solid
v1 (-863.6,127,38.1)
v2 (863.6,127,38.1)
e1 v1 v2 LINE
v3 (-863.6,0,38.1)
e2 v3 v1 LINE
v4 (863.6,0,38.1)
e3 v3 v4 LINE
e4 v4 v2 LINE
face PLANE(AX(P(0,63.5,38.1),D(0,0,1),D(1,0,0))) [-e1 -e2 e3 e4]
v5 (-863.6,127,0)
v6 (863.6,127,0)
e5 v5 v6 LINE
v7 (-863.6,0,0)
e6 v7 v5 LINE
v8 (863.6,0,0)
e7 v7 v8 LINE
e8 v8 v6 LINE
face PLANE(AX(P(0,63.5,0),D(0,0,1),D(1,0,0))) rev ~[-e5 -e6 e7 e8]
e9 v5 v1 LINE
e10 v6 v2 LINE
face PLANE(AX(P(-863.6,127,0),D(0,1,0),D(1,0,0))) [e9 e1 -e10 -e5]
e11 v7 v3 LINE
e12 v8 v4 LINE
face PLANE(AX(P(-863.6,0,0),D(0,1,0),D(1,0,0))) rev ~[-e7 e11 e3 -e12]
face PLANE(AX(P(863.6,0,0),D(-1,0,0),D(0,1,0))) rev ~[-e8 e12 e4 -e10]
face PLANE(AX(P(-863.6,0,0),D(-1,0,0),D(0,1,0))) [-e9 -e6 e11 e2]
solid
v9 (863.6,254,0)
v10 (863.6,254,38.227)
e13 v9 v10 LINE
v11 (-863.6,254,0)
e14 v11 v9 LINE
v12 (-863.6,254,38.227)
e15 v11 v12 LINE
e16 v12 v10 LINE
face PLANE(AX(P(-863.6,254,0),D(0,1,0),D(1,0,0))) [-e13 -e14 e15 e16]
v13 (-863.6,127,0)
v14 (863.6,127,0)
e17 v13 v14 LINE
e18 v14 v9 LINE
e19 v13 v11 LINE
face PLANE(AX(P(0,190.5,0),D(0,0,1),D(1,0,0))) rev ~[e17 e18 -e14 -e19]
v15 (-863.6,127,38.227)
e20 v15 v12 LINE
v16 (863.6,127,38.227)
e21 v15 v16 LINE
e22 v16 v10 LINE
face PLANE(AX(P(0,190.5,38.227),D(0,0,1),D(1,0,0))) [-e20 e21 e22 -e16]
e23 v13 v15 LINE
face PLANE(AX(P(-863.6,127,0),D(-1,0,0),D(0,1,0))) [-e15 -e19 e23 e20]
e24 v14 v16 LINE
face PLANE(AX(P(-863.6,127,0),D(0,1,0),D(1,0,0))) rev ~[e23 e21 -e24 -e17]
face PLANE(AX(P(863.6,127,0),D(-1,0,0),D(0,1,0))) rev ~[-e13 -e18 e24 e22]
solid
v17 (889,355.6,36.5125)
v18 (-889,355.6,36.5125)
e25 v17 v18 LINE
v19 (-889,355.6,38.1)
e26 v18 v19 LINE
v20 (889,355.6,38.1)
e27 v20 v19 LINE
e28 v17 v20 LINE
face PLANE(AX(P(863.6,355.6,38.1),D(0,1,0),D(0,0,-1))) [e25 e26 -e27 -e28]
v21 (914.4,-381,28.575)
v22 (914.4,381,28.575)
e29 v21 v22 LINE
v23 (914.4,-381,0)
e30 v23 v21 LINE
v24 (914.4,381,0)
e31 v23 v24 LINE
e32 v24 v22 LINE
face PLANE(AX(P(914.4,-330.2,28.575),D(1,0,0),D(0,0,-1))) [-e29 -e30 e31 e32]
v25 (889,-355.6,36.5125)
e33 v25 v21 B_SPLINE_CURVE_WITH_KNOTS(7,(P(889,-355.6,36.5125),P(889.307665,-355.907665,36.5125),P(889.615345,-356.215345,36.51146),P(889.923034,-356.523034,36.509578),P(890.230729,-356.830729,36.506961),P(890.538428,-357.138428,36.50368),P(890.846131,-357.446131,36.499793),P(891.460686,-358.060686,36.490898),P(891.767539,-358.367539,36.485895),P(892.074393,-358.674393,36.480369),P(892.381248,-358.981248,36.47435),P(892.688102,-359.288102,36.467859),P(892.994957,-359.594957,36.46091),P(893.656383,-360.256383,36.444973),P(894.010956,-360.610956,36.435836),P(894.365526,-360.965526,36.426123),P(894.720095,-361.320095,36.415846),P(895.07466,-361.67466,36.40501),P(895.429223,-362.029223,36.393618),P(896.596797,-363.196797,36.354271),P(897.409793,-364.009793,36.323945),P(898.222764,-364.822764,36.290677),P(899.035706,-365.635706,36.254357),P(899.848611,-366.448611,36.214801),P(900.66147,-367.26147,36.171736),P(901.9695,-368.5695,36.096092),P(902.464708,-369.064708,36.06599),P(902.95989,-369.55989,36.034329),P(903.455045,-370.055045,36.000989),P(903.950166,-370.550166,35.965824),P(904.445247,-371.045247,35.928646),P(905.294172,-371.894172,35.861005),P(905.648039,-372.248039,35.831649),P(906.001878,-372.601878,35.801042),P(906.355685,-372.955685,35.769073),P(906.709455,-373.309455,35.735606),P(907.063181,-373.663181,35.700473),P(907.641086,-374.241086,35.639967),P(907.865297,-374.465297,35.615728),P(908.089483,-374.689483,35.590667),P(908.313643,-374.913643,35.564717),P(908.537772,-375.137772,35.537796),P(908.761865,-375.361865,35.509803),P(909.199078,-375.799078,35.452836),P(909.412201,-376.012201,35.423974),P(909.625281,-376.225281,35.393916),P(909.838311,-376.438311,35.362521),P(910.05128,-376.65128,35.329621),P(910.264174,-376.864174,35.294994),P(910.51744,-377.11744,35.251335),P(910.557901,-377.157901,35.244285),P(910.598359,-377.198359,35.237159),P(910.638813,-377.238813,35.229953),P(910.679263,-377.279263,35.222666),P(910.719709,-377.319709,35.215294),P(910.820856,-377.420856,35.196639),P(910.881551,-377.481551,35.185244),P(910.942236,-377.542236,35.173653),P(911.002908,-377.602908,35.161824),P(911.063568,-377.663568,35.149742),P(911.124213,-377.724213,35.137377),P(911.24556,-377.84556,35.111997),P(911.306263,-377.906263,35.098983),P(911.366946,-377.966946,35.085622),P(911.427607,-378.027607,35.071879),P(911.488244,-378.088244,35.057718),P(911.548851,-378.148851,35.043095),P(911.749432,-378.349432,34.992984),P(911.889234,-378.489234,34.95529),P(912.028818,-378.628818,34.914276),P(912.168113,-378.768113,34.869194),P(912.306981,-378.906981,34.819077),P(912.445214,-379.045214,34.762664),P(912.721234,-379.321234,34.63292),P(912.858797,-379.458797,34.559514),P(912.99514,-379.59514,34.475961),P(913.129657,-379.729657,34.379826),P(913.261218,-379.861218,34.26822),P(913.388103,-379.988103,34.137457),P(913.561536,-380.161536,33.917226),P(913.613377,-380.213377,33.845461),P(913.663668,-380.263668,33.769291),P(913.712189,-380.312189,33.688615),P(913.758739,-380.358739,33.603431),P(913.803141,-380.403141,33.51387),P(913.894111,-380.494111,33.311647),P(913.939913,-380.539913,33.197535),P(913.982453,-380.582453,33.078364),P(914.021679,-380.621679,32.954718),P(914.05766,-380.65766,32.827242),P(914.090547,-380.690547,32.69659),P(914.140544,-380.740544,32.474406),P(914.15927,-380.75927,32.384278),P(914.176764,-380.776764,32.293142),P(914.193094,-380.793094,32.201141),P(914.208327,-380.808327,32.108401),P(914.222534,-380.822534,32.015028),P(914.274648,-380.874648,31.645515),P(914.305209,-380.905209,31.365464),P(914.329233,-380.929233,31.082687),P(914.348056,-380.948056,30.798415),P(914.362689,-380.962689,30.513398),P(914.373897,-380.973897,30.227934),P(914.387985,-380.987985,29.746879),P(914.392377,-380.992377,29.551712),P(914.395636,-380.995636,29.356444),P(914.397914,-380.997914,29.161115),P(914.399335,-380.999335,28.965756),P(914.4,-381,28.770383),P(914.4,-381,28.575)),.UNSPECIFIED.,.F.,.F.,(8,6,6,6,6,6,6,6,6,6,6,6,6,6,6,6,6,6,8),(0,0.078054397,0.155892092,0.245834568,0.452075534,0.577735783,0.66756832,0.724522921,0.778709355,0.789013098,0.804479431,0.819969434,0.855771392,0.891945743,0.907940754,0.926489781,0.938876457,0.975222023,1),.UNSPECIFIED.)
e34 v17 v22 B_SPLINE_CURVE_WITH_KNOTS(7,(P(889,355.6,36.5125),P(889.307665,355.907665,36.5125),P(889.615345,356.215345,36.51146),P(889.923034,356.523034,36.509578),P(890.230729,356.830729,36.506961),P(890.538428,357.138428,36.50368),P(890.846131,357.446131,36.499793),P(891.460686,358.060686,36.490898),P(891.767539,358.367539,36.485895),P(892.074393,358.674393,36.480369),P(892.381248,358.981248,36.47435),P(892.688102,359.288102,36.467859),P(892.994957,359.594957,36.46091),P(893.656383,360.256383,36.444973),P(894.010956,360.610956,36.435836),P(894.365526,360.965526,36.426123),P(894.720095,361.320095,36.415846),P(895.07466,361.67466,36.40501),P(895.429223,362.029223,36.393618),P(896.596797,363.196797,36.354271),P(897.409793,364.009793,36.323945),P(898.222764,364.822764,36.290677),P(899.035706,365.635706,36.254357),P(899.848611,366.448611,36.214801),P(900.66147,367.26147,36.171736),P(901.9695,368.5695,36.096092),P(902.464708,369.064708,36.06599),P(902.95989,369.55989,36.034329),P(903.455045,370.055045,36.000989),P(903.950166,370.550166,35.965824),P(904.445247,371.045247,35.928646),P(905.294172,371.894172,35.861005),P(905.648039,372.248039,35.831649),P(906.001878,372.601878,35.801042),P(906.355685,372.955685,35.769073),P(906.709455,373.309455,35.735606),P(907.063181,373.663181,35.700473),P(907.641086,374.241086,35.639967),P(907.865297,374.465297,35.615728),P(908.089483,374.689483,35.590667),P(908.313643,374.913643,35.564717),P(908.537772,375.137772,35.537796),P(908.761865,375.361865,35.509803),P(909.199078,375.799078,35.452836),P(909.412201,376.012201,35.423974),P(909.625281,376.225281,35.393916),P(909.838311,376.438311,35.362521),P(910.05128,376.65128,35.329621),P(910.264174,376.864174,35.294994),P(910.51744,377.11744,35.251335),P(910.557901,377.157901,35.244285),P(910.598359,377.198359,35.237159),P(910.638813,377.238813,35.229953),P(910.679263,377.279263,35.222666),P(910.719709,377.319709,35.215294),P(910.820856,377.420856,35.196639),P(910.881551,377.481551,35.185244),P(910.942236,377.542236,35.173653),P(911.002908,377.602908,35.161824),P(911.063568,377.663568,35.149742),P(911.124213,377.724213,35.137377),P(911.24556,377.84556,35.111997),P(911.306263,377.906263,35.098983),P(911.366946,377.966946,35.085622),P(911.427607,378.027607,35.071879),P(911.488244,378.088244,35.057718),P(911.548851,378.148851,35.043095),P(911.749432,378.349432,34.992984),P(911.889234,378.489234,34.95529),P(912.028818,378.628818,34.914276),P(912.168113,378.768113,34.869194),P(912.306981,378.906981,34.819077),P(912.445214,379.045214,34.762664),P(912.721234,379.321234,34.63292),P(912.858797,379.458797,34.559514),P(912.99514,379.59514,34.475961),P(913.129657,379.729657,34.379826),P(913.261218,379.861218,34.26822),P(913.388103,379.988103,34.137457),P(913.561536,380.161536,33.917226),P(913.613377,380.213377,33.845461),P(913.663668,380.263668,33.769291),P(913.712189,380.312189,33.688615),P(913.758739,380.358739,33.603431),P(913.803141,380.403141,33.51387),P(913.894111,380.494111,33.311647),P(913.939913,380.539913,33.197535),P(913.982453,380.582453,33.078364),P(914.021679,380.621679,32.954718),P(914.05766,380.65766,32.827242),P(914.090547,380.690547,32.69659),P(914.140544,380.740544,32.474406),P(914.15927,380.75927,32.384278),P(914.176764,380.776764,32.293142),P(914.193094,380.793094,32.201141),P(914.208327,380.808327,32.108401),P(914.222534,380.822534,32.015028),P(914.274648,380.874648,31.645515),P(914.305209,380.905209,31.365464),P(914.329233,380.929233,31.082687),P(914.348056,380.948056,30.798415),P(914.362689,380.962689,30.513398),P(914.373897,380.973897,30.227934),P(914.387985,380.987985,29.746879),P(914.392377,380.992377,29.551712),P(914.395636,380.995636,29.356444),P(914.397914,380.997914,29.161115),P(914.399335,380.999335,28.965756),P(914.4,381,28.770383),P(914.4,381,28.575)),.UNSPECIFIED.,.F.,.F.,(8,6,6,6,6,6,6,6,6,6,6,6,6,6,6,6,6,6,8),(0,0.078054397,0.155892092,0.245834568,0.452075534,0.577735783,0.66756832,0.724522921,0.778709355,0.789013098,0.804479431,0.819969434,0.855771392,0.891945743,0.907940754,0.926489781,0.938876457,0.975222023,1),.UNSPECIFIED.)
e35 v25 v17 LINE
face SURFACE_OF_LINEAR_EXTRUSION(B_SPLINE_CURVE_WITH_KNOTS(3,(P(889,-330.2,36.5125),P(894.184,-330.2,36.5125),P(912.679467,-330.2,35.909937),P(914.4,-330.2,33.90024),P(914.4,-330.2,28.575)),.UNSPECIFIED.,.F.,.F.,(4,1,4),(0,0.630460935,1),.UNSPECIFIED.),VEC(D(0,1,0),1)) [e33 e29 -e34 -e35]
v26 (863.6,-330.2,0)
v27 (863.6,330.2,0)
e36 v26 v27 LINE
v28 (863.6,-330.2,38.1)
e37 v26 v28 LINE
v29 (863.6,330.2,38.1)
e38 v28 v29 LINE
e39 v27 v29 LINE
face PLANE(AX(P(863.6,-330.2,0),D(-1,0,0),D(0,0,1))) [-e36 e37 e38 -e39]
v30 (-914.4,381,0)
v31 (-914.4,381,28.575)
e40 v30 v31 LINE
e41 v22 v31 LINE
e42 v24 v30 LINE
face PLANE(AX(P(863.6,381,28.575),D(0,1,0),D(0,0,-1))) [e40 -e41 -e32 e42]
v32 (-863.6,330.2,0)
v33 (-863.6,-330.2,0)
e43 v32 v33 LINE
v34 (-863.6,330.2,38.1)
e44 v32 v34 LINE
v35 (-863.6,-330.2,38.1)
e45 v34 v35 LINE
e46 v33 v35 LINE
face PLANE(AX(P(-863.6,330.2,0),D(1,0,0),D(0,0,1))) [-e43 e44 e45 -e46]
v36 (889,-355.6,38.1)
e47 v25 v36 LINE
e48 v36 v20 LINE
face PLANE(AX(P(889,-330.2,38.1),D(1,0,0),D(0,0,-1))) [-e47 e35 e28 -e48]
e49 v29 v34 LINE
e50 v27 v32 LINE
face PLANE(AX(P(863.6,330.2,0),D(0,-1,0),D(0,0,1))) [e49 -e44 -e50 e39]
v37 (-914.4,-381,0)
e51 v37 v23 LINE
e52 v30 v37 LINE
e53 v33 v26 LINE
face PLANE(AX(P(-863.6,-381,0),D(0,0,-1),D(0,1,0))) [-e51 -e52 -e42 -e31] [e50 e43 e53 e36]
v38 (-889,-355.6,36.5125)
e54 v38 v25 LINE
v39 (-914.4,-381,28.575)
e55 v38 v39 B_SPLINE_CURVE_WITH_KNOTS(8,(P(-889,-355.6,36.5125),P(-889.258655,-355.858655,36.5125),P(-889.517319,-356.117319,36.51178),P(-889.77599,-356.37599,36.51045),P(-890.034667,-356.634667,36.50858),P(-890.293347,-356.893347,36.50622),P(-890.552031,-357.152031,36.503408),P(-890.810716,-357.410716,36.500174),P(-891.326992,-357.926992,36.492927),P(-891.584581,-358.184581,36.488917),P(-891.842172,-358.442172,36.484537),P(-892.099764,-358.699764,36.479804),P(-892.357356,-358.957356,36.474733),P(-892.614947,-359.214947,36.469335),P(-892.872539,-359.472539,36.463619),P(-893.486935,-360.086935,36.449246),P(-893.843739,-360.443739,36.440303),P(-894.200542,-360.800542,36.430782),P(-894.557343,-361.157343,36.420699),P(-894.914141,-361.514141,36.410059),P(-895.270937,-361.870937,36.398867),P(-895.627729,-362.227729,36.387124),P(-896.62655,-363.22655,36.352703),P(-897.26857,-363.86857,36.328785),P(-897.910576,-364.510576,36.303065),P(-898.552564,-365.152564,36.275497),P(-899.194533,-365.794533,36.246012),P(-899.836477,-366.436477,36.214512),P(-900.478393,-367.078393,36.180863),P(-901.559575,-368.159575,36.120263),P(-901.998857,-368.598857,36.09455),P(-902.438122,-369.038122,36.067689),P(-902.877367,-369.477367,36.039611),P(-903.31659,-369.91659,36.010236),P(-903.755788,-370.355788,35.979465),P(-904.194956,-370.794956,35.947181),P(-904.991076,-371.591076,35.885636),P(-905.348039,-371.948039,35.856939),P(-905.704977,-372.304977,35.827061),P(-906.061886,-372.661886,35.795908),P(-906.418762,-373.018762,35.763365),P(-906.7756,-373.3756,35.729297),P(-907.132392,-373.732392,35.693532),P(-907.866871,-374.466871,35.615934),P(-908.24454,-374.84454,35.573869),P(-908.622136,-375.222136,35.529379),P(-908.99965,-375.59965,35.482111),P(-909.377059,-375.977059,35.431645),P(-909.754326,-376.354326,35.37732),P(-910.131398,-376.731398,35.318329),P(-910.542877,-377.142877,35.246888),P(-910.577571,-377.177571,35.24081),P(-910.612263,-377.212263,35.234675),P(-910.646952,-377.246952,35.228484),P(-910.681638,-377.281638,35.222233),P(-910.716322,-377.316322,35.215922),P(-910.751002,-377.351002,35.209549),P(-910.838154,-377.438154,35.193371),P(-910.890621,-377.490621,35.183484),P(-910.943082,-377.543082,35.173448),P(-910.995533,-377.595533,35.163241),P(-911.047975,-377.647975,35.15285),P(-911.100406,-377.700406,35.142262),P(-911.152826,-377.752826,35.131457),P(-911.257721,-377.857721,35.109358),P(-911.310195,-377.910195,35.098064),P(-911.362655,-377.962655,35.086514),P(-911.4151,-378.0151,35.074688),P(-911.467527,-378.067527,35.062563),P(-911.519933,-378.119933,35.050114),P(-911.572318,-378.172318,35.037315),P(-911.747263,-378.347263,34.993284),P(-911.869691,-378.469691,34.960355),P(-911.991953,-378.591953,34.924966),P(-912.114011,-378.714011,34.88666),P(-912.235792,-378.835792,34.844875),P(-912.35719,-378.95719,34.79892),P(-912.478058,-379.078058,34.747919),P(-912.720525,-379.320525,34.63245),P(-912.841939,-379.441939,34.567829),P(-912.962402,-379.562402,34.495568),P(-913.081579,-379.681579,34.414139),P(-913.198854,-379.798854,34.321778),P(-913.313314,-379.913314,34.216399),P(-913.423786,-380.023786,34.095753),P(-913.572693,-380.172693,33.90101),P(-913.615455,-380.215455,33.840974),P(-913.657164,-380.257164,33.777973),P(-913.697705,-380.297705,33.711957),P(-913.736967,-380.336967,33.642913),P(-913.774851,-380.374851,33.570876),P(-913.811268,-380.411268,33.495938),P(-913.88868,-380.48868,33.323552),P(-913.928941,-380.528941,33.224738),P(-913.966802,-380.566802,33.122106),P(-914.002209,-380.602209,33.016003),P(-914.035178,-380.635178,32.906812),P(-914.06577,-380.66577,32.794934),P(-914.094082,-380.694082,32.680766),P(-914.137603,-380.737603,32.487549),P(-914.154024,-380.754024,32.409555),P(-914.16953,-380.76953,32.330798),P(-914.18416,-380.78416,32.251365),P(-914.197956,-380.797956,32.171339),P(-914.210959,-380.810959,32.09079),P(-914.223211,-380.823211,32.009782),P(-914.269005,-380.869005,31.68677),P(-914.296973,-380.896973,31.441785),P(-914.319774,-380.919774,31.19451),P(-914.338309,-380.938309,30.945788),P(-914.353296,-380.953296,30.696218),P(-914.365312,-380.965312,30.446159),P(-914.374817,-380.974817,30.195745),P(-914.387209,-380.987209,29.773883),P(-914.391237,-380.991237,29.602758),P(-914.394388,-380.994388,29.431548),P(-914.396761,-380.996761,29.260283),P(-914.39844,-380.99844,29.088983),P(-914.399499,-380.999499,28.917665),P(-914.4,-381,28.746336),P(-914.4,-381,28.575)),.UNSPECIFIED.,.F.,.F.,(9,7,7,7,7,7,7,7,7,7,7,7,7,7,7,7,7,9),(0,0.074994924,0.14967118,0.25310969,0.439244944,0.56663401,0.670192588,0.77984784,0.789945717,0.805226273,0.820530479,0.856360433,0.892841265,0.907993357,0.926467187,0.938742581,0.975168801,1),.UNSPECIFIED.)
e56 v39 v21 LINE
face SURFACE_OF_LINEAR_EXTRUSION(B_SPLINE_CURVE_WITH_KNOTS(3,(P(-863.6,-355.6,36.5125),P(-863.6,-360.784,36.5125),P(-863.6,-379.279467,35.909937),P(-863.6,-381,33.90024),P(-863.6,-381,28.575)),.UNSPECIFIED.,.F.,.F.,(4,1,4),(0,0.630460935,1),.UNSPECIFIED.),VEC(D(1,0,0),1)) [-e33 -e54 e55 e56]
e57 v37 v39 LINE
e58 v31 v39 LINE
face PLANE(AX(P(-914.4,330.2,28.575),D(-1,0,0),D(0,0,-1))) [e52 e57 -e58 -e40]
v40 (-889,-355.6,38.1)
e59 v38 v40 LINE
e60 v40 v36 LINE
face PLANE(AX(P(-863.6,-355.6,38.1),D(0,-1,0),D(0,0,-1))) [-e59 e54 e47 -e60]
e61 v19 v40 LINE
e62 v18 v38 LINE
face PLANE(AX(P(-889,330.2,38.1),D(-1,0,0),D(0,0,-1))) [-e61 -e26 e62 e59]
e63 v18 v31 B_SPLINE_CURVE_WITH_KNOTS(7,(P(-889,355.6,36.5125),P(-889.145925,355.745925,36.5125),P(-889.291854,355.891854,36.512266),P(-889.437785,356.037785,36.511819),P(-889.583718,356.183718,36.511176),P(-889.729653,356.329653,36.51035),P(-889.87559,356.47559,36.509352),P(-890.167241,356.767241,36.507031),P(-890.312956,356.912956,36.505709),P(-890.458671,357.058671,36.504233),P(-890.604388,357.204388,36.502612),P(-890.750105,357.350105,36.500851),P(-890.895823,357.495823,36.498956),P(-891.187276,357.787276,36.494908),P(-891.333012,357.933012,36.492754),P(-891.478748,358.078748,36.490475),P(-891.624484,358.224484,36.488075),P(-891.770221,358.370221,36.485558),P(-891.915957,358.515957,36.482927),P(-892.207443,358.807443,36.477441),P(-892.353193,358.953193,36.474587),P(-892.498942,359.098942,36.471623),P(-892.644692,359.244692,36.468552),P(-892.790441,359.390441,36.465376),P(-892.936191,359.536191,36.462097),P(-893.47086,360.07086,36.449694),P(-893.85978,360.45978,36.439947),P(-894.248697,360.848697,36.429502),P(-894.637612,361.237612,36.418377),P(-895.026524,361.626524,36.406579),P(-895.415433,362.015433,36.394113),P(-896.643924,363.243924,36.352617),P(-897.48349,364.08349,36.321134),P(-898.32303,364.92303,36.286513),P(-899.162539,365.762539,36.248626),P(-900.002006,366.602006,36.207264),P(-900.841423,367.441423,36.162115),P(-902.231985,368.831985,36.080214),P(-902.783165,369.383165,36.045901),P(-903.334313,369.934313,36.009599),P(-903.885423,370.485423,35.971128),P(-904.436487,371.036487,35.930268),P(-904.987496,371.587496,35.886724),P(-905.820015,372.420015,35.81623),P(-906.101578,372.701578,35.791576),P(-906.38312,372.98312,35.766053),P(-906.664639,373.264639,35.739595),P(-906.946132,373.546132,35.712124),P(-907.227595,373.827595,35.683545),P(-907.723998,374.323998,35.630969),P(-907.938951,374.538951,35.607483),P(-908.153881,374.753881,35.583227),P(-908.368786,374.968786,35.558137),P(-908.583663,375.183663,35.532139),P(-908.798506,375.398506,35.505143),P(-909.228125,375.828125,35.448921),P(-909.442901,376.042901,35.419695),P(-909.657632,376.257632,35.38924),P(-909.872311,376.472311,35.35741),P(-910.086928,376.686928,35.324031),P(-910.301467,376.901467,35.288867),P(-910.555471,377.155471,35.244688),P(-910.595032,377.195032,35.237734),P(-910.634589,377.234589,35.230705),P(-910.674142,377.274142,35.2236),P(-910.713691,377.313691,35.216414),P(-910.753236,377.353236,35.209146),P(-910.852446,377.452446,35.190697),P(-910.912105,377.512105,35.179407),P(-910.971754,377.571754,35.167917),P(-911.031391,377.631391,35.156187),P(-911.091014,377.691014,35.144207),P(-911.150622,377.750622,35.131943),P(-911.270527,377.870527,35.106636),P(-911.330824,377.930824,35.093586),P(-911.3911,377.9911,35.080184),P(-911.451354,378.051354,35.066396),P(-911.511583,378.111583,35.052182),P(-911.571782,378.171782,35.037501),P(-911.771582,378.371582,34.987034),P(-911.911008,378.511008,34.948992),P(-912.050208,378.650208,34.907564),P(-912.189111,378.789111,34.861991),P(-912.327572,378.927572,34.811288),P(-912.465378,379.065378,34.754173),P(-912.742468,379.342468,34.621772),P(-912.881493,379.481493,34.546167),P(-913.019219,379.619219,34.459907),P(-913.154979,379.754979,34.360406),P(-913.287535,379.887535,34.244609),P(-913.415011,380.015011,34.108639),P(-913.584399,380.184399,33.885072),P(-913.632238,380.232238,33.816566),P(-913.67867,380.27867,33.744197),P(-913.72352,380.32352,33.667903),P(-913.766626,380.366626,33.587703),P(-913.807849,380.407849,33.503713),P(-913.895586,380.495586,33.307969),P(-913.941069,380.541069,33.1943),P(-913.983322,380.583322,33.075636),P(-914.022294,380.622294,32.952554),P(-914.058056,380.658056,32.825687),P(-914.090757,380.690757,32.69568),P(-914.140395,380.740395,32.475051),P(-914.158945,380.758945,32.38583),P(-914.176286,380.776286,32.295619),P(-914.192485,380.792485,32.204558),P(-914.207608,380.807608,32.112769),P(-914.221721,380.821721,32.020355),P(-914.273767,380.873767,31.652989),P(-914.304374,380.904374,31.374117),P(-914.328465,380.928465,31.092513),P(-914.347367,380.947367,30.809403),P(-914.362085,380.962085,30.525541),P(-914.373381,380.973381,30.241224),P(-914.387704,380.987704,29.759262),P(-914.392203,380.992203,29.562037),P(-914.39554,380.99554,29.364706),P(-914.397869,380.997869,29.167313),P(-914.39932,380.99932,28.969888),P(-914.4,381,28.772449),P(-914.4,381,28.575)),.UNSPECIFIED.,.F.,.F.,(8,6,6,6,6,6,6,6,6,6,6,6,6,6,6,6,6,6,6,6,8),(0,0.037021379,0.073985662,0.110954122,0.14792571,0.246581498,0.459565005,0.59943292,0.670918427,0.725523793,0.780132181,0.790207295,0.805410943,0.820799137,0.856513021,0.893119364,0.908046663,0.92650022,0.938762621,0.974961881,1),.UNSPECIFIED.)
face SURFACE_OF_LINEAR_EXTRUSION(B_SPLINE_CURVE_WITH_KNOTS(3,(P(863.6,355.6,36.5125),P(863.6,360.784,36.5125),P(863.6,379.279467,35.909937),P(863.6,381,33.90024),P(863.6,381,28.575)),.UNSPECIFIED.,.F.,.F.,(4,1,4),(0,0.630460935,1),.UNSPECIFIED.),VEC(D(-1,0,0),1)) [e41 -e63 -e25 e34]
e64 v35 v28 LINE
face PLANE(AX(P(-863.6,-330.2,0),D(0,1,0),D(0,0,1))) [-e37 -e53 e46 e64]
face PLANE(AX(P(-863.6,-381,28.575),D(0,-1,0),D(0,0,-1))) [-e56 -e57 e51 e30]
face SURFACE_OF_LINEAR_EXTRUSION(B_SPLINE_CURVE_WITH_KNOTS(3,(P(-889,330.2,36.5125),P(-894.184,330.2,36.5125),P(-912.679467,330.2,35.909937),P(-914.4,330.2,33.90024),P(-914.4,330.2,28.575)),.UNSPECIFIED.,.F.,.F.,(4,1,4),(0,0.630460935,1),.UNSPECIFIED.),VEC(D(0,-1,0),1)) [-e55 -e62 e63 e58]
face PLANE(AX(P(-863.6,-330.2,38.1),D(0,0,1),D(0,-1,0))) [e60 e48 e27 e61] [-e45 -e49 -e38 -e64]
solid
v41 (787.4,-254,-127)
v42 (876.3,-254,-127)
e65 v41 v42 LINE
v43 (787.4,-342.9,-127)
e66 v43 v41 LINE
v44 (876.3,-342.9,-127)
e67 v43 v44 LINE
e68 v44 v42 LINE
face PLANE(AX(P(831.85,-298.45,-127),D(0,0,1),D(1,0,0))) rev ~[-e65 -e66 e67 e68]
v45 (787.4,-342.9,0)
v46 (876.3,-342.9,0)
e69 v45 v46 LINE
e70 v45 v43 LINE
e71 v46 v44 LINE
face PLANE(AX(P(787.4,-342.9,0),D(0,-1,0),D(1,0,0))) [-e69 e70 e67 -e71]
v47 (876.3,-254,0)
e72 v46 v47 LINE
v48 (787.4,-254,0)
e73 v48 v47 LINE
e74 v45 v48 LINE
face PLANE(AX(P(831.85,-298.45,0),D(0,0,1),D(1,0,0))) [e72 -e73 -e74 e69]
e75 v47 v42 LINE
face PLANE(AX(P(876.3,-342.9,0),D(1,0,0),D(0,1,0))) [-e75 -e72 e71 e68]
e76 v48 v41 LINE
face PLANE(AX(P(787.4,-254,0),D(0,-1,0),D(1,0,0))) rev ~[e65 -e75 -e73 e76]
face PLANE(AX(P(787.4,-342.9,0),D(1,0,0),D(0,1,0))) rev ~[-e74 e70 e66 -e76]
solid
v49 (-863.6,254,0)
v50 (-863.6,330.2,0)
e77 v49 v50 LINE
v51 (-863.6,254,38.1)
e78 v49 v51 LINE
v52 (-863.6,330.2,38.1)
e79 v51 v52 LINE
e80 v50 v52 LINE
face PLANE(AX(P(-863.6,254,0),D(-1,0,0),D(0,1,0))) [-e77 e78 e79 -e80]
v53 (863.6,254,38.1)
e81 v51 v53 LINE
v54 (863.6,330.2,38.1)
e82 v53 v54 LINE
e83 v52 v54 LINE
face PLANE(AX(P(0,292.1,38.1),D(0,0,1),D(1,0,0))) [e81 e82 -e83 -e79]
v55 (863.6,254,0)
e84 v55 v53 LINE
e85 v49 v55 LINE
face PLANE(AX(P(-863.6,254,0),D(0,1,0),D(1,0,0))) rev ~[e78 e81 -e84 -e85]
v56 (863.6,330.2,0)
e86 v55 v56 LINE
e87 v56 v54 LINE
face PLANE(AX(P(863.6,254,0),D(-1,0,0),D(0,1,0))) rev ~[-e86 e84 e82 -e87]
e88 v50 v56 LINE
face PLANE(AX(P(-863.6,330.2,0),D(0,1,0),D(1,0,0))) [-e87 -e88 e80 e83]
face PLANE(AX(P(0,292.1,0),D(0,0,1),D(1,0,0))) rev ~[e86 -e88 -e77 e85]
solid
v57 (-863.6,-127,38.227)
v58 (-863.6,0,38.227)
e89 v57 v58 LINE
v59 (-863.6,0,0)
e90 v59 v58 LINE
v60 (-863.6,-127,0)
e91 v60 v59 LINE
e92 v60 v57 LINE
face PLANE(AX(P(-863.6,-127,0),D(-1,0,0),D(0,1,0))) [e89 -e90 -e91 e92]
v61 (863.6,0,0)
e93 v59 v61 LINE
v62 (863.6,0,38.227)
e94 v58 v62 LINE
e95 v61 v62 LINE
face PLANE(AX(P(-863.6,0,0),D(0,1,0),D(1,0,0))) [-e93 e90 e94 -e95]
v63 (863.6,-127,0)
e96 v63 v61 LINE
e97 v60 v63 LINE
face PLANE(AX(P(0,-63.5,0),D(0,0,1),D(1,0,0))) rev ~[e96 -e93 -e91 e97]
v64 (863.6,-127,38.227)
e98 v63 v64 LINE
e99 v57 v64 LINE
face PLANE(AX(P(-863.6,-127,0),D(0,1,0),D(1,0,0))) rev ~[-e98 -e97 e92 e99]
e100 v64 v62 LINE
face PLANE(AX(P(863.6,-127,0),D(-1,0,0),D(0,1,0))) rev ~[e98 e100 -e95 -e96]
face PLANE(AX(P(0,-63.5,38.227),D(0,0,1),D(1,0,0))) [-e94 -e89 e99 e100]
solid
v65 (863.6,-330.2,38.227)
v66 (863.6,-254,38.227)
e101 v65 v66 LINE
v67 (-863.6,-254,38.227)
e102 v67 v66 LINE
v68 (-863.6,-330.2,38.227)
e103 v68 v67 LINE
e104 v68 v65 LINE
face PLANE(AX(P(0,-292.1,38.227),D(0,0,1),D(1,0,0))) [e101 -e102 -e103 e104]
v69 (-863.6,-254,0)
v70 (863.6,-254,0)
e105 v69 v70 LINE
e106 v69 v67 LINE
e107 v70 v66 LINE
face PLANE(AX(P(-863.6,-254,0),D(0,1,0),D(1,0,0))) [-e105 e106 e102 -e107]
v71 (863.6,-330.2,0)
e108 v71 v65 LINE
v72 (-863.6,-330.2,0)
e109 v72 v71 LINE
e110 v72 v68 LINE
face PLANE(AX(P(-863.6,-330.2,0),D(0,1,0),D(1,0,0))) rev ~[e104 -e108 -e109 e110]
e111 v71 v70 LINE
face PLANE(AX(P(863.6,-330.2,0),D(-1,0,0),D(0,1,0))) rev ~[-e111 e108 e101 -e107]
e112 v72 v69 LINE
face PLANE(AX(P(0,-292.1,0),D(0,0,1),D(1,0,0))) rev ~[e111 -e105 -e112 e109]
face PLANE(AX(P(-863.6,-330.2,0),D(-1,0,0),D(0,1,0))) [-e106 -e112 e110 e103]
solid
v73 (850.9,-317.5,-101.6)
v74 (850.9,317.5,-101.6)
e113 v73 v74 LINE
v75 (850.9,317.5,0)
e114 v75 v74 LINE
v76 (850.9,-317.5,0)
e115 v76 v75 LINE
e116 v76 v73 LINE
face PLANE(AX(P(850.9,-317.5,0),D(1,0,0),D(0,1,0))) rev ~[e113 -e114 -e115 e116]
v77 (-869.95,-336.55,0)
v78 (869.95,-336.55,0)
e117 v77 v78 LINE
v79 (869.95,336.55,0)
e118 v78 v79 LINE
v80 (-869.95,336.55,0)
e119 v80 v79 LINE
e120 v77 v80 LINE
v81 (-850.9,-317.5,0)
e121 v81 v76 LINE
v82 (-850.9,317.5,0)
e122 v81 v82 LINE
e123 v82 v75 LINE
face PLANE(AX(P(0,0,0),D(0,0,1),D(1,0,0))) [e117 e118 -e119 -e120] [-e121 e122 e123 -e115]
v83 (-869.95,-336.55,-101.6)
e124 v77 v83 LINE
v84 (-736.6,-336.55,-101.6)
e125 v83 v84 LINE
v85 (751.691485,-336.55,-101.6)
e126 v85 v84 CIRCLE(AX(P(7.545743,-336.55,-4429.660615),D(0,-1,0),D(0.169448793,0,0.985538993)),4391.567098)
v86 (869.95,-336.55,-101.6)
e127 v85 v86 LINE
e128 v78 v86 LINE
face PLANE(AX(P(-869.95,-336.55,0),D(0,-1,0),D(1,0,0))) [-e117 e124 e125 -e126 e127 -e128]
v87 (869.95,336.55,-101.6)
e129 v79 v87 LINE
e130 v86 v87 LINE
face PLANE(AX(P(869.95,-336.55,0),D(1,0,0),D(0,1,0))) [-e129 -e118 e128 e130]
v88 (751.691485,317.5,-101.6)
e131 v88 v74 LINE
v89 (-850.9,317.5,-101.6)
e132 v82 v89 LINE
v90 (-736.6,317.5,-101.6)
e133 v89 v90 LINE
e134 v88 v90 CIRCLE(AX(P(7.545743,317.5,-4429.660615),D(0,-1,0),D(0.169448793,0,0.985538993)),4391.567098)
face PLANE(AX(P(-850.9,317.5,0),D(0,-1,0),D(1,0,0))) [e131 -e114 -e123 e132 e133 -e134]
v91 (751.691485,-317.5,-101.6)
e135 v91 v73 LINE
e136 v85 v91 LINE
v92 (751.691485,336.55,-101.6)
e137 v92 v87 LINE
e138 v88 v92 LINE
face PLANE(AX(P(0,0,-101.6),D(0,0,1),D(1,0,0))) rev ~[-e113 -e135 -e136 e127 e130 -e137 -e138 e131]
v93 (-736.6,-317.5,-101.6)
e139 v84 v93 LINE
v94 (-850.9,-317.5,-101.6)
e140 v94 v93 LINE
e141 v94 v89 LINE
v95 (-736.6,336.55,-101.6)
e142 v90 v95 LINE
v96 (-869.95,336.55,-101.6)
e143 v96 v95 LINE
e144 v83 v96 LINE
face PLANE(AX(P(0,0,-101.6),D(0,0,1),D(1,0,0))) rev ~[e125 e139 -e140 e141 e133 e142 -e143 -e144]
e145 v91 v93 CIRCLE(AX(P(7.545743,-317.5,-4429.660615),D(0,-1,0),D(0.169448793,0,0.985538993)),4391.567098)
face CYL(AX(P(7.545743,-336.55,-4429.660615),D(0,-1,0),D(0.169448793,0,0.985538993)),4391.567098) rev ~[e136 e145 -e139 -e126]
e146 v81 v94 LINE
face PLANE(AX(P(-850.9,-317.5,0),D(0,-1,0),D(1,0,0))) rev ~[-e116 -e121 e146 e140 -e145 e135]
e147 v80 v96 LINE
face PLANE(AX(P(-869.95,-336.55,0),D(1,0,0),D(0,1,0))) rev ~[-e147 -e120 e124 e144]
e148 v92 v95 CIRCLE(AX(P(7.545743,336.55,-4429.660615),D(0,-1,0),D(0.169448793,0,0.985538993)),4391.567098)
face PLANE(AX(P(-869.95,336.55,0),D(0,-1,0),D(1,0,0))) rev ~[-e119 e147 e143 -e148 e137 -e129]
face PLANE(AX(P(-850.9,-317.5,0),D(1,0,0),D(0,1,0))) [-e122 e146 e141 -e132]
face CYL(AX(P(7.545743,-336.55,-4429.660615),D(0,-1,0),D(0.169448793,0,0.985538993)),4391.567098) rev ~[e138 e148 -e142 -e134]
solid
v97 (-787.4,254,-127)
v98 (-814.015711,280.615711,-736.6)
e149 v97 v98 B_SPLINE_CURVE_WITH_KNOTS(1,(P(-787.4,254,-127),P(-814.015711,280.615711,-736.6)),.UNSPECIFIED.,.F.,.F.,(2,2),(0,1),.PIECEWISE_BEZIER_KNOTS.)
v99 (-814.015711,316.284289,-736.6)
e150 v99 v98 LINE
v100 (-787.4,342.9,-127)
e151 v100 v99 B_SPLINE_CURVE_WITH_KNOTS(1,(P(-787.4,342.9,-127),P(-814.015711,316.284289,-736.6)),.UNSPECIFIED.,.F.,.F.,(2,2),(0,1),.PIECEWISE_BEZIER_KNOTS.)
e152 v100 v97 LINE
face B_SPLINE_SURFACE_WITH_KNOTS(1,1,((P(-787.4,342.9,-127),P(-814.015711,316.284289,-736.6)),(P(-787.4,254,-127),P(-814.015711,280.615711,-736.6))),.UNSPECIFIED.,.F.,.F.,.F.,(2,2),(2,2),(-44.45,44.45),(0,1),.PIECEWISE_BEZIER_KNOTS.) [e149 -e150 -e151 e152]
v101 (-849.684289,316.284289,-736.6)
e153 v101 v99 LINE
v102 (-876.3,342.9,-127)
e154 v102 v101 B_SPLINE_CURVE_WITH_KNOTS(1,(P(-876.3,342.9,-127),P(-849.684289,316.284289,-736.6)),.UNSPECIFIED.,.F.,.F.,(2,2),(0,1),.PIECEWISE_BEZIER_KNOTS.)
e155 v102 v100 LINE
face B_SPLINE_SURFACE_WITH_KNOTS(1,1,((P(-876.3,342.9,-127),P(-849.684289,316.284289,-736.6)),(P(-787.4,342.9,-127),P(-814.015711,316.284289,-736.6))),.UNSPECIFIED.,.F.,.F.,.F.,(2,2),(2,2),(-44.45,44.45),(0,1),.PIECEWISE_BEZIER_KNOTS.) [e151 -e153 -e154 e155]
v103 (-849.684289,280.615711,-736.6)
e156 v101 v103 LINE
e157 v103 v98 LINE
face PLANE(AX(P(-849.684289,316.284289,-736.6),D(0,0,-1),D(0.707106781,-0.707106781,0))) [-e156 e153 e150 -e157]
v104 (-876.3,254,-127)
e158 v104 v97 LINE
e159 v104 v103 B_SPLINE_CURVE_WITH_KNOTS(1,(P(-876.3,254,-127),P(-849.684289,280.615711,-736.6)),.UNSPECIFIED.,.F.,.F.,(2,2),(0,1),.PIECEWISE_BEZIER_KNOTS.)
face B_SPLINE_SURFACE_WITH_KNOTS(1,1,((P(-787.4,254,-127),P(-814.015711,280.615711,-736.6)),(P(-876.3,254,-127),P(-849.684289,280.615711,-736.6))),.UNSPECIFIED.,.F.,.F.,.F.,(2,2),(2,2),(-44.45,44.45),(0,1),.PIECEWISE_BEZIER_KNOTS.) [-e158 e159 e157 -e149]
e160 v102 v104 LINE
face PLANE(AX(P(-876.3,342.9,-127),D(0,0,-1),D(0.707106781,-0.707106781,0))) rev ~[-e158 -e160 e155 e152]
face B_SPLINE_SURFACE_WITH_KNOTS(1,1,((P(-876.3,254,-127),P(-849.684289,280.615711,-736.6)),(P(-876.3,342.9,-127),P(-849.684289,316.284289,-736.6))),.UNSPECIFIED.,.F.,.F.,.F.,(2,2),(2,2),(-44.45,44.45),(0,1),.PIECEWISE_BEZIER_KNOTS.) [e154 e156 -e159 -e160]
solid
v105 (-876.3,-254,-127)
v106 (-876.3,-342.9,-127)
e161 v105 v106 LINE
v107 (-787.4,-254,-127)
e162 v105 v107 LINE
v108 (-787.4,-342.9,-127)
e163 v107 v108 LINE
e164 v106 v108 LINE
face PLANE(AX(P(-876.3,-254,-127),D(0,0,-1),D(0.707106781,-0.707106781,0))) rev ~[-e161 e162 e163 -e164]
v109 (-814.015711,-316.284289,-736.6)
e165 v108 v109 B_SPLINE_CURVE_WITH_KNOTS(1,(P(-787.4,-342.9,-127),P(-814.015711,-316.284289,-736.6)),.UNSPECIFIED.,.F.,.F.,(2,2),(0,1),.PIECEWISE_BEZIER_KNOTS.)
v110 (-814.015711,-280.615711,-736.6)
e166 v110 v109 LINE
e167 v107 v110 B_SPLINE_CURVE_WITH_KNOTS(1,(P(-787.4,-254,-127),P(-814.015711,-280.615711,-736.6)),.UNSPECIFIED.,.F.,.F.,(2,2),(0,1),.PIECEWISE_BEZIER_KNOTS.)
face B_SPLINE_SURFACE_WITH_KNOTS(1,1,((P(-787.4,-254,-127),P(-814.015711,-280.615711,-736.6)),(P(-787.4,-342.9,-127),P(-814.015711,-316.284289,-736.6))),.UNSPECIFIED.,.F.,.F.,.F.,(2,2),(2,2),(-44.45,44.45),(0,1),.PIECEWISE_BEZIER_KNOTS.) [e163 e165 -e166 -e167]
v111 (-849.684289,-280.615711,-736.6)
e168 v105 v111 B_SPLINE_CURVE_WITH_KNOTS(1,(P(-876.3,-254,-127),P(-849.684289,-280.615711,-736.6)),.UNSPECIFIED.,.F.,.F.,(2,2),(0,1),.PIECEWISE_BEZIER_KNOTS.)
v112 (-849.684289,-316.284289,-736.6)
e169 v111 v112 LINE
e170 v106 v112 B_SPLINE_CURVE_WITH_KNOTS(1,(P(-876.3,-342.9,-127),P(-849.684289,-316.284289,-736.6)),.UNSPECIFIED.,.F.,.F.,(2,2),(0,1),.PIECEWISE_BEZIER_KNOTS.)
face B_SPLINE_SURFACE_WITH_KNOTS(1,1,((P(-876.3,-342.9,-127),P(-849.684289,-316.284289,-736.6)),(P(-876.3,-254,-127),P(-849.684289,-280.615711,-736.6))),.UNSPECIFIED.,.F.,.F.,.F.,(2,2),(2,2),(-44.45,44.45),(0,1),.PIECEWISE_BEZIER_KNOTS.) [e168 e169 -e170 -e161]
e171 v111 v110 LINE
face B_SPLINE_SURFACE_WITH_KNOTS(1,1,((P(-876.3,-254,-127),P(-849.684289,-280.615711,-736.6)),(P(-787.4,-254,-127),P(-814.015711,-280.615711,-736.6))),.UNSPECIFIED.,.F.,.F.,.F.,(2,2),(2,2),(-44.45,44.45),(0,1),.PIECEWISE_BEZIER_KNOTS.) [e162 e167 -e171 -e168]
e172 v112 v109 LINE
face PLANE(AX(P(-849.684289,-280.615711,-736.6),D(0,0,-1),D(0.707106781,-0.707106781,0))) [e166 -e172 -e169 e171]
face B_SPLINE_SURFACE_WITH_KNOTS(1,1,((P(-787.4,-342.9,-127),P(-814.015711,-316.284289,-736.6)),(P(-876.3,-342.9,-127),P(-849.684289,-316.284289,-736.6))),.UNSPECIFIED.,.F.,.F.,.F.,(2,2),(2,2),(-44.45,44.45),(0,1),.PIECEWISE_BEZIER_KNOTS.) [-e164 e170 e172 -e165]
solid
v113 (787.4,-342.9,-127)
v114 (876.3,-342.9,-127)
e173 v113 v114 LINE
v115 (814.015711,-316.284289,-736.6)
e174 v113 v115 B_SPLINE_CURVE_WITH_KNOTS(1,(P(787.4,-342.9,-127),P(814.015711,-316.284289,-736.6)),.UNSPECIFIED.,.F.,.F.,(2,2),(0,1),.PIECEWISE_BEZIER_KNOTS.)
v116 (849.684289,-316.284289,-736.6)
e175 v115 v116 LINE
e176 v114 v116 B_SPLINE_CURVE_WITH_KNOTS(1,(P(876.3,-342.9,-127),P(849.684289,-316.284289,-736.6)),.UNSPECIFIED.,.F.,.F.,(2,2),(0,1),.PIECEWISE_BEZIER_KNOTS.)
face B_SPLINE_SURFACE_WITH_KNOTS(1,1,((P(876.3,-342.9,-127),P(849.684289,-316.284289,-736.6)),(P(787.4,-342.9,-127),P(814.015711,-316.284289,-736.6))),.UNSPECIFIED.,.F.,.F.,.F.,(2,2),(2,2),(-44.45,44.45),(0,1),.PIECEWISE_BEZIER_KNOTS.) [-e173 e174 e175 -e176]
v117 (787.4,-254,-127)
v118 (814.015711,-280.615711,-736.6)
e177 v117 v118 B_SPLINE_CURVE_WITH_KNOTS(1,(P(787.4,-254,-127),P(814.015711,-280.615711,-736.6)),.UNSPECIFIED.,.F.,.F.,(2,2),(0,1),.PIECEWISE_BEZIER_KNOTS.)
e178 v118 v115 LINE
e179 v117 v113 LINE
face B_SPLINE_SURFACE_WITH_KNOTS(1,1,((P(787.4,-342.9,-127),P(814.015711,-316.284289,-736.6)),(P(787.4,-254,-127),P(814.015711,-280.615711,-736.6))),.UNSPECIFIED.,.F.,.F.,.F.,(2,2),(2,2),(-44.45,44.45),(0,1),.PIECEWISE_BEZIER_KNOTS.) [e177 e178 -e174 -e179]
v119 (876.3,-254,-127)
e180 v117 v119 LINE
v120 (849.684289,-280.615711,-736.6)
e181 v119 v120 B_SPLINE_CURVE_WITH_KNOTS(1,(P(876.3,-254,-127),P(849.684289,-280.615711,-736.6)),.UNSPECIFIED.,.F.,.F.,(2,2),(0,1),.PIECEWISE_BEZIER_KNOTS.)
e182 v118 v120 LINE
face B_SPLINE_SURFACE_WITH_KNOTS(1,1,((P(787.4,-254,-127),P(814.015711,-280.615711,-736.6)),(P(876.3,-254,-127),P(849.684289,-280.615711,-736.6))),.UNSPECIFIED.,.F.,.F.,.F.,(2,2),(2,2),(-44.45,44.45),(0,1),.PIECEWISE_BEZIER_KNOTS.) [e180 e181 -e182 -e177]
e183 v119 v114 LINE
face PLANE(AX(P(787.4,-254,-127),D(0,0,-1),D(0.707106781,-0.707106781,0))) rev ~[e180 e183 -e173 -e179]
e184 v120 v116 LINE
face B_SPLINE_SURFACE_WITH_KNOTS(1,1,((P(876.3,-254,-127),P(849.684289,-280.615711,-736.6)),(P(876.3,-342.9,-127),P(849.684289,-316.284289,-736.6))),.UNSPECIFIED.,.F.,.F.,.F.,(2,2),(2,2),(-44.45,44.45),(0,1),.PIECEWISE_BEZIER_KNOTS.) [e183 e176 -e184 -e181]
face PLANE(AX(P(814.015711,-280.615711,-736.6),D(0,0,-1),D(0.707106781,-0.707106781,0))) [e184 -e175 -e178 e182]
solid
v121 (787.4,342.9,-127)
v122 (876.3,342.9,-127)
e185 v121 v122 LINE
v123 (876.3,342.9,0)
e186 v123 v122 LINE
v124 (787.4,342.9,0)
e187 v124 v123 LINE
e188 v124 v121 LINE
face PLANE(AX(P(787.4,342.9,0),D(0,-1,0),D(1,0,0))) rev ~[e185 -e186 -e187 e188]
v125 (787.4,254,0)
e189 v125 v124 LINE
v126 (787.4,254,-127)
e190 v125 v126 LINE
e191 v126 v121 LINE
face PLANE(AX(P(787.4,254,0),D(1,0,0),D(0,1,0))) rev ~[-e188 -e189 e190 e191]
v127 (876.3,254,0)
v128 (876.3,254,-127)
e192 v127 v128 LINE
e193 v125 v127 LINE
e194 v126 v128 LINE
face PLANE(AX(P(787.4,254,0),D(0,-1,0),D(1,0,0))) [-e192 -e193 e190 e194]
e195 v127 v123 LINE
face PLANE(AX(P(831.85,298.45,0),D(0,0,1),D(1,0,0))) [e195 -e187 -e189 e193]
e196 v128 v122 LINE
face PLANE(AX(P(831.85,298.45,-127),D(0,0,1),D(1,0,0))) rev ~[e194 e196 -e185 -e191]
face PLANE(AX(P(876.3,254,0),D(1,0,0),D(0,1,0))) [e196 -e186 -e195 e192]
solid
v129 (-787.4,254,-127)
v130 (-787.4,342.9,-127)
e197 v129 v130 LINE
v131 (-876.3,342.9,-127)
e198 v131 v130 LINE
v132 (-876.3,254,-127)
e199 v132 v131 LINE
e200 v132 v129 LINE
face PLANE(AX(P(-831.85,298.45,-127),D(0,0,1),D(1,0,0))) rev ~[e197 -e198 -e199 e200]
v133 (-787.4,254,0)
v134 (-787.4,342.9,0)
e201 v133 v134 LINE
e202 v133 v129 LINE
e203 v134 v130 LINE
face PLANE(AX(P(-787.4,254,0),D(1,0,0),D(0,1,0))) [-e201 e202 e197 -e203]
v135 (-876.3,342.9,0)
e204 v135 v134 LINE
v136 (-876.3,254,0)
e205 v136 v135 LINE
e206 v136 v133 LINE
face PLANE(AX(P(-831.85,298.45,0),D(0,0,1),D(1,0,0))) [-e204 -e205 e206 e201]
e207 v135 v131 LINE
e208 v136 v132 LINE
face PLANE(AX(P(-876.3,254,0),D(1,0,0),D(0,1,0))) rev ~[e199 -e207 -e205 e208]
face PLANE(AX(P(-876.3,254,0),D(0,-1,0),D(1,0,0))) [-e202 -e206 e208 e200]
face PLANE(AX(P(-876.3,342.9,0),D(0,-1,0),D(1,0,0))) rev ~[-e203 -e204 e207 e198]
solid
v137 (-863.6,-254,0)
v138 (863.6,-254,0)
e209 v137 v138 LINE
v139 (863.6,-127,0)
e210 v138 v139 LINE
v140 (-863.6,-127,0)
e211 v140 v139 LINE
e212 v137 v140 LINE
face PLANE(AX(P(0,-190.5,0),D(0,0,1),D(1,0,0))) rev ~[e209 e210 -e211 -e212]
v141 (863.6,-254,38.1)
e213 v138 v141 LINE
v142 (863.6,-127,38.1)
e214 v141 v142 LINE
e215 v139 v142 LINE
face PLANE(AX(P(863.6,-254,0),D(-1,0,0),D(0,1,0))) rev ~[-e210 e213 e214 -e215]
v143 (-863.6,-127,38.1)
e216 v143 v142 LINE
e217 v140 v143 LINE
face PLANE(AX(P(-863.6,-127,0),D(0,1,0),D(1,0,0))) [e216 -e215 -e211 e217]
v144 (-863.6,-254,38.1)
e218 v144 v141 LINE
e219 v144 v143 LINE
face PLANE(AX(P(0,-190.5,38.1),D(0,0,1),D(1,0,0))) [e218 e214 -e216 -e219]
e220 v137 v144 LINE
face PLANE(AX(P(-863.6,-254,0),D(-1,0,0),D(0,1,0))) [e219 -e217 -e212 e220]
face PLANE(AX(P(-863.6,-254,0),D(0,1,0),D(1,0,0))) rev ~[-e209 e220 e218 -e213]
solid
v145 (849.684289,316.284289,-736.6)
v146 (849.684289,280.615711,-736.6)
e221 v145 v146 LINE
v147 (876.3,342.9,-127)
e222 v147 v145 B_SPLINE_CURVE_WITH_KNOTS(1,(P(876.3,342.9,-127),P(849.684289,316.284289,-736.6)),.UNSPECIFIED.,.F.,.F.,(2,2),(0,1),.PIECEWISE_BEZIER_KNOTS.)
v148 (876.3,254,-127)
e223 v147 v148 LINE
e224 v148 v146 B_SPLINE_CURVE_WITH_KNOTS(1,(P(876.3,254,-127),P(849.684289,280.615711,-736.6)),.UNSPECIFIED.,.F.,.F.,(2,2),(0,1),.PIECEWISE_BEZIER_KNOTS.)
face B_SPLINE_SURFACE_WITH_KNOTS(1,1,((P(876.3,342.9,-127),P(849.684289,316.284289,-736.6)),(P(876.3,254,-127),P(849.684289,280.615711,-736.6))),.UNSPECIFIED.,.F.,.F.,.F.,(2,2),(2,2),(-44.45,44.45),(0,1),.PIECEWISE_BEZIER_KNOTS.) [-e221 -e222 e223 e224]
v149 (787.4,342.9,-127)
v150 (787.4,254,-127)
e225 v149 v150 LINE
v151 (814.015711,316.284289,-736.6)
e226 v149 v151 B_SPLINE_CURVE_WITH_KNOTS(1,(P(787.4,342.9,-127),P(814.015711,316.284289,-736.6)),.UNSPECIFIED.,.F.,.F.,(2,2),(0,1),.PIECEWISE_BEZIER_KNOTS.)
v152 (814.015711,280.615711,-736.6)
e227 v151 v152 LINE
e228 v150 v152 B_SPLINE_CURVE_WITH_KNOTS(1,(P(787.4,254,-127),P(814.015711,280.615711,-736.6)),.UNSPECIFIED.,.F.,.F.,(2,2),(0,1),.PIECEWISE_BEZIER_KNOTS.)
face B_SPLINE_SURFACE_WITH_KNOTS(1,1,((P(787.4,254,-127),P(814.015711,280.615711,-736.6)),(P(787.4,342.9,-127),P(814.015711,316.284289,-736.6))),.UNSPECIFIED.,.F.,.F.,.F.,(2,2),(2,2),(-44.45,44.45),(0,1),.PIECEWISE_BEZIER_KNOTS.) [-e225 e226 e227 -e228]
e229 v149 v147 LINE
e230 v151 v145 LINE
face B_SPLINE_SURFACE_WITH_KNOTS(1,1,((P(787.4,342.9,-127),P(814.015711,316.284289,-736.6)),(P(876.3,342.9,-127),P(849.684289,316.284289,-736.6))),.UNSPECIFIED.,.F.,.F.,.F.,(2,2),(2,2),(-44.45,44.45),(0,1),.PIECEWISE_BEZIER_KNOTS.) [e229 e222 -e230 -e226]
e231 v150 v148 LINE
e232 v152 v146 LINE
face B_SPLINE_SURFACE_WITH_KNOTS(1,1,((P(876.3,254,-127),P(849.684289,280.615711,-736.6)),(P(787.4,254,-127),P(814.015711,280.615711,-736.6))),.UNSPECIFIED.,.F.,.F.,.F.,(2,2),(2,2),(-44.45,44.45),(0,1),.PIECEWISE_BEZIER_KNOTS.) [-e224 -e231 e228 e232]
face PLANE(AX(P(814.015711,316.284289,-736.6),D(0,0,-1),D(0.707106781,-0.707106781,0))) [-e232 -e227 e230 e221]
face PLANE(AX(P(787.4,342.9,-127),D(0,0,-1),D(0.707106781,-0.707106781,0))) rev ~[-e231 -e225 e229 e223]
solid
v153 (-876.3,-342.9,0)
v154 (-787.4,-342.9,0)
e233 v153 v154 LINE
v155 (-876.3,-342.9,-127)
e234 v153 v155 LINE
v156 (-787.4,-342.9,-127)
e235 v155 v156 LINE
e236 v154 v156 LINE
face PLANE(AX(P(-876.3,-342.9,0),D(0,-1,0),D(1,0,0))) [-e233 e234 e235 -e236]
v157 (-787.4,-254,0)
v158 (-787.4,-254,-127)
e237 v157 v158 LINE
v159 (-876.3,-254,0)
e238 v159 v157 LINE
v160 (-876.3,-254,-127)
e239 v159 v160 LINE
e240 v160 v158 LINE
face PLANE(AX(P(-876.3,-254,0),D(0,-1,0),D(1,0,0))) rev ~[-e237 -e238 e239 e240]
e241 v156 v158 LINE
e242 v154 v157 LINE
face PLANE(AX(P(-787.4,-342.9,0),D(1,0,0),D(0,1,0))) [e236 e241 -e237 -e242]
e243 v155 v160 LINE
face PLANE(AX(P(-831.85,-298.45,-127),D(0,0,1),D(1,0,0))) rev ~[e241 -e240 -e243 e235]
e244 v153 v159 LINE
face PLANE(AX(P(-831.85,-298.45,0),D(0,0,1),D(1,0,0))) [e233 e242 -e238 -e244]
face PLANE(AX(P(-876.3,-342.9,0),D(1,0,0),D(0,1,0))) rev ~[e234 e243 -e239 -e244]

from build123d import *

# Parameters (mm, degrees)
F0_W           = 1727.2
F0_H           = 76.2
F1_DEPTH       = 38.1
F0_H_2         = 127
F2_DEPTH       = 38.227
F5_W           = 88.9
F5_H           = 88.9
F6_DEPTH       = 127
F7_W           = 1739.9
F7_H           = 673.1
F7_W_2         = 1701.8
F7_H_2         = 635
F8_DEPTH       = 101.6
F9_W           = 88.9
F9_H           = 88.9
F10_DEPTH      = 609.6
F10_TAPER      = 2.5
F11_W          = 1488.2914853928
F11_H          = 198.9219101906
F12_DEPTH      = 914.4
F12_DEPTH_BACK = 914.4


with BuildPart() as f1:
    # F0 (on Top) → F1 (new body)
    with BuildSketch(Plane.XY):
        with Locations((0, 292.1)):
            Rectangle(F0_W, F0_H)
    extrude(amount=F1_DEPTH)


with BuildPart() as f1b:
    # F0 (on Top) → F1, piece 2 (new body)
    with BuildSketch(Plane.XY):
        with Locations((0, 63.5)):
            Rectangle(F0_W, F0_H_2)
    extrude(amount=F1_DEPTH)


with BuildPart() as f1c:
    # F0 (on Top) → F1, piece 3 (new body)
    with BuildSketch(Plane.XY):
        with Locations((0, -190.5)):
            Rectangle(F0_W, F0_H_2)
    extrude(amount=F1_DEPTH)


with BuildPart() as f2:
    # F0 (on Top) → F2 (new body)
    with BuildSketch(Plane.XY):
        with Locations((0, 190.5)):
            Rectangle(F0_W, F0_H_2)
    extrude(amount=F2_DEPTH)


with BuildPart() as f2b:
    # F0 (on Top) → F2, piece 2 (new body)
    with BuildSketch(Plane.XY):
        with Locations((0, -63.5)):
            Rectangle(F0_W, F0_H_2)
    extrude(amount=F2_DEPTH)


with BuildPart() as f2c:
    # F0 (on Top) → F2, piece 3 (new body)
    with BuildSketch(Plane.XY):
        with Locations((0, -292.1)):
            Rectangle(F0_W, F0_H)
    extrude(amount=F2_DEPTH)


with BuildPart() as f4:
    # F4: sweep along a path in F0
    with BuildLine(Plane.XY) as f4_path:
        Line((-863.6, -330.2), (863.6, -330.2))
        Line((863.6, -330.2), (863.6, 330.2))
        Line((863.6, 330.2), (-863.6, 330.2))
        Line((-863.6, 330.2), (-863.6, -330.2))
    # F3 (on Right) → F4 (sweep)
    with BuildSketch(Plane.YZ):
        with BuildLine():
            Line((-381, 0), (-330.2, 0))
            Line((-330.2, 0), (-330.2, 38.1))
            Line((-330.2, 38.1), (-355.6, 38.1))
            Line((-355.6, 38.1), (-355.6, 36.5125))
            add(Edge.make_bspline(
                [(-355.6, 36.5125), (-360.7839997933, 36.5125), (-379.2794668616, 35.9099371042), (-381, 33.9002396899), (-381, 28.575)],
                knots=[0, 0, 0, 0, 0.6304609347, 1, 1, 1, 1], degree=3))
            Line((-381, 28.575), (-381, 0))
        make_face()
    sweep(path=f4_path.line, transition=Transition.RIGHT)


with BuildPart() as f6:
    # F5 (on Top) → F6 (new body)
    with BuildSketch(Plane.XY):
        with Locations((-831.85, -298.45)):
            Rectangle(F5_W, F5_H)
    extrude(amount=-F6_DEPTH)


with BuildPart() as f6b:
    # F5 (on Top) → F6, piece 2 (new body)
    with BuildSketch(Plane.XY):
        with Locations((831.85, -298.45)):
            Rectangle(F5_W, F5_H)
    extrude(amount=-F6_DEPTH)


with BuildPart() as f6c:
    # F5 (on Top) → F6, piece 3 (new body)
    with BuildSketch(Plane.XY):
        with Locations((831.85, 298.45)):
            Rectangle(F5_W, F5_H)
    extrude(amount=-F6_DEPTH)


with BuildPart() as f6d:
    # F5 (on Top) → F6, piece 4 (new body)
    with BuildSketch(Plane.XY):
        with Locations((-831.85, 298.45)):
            Rectangle(F5_W, F5_H)
    extrude(amount=-F6_DEPTH)


with BuildPart() as f8:
    # F7 (on Top) → F8 (new body)
    with BuildSketch(Plane.XY):
        Rectangle(F7_W, F7_H)
        Rectangle(F7_W_2, F7_H_2, mode=Mode.SUBTRACT)
    extrude(amount=-F8_DEPTH)

    # F11 (on face) → F12 (cut, two sides)
    with BuildSketch(Plane.XZ.offset(336.55)) as f12_sk:
        with BuildLine():
            Line((-736.6, -101.6), (751.6914853928, -101.6))
            ThreePointArc((751.6914853928, -101.6), (7.5457426964, -38.093517317), (-736.6, -101.6))
        make_face()
        with Locations((7.5457426964, -201.0609550953)):
            Rectangle(F11_W, F11_H)
    extrude(amount=-F12_DEPTH, mode=Mode.SUBTRACT)
    extrude(f12_sk.sketch, amount=F12_DEPTH_BACK, mode=Mode.SUBTRACT)


with BuildPart() as f10:
    # F9 (on face) → F10 (new body)
    with BuildSketch(Plane(origin=(0, 0, -127), x_dir=(1, 0, 0), z_dir=(0, 0, -1))):
        with Locations((-831.85, 298.45)):
            Rectangle(F9_W, F9_H)
    extrude(amount=F10_DEPTH, taper=F10_TAPER)


with BuildPart() as f10b:
    # F9 (on face) → F10, piece 2 (new body)
    with BuildSketch(Plane(origin=(0, 0, -127), x_dir=(1, 0, 0), z_dir=(0, 0, -1))):
        with Locations((831.85, 298.45)):
            Rectangle(F9_W, F9_H)
    extrude(amount=F10_DEPTH, taper=F10_TAPER)


with BuildPart() as f10c:
    # F9 (on face) → F10, piece 3 (new body)
    with BuildSketch(Plane(origin=(0, 0, -127), x_dir=(1, 0, 0), z_dir=(0, 0, -1))):
        with Locations((831.85, -298.45)):
            Rectangle(F9_W, F9_H)
    extrude(amount=F10_DEPTH, taper=F10_TAPER)


with BuildPart() as f10d:
    # F9 (on face) → F10, piece 4 (new body)
    with BuildSketch(Plane(origin=(0, 0, -127), x_dir=(1, 0, 0), z_dir=(0, 0, -1))):
        with Locations((-831.85, -298.45)):
            Rectangle(F9_W, F9_H)
    extrude(amount=F10_DEPTH, taper=F10_TAPER)


solid = Compound([f1.part, f1b.part, f1c.part, f2.part, f2b.part, f2c.part, f4.part, f6.part, f6b.part, f6c.part, f6d.part, f8.part, f10.part, f10b.part, f10c.part, f10d.part])
